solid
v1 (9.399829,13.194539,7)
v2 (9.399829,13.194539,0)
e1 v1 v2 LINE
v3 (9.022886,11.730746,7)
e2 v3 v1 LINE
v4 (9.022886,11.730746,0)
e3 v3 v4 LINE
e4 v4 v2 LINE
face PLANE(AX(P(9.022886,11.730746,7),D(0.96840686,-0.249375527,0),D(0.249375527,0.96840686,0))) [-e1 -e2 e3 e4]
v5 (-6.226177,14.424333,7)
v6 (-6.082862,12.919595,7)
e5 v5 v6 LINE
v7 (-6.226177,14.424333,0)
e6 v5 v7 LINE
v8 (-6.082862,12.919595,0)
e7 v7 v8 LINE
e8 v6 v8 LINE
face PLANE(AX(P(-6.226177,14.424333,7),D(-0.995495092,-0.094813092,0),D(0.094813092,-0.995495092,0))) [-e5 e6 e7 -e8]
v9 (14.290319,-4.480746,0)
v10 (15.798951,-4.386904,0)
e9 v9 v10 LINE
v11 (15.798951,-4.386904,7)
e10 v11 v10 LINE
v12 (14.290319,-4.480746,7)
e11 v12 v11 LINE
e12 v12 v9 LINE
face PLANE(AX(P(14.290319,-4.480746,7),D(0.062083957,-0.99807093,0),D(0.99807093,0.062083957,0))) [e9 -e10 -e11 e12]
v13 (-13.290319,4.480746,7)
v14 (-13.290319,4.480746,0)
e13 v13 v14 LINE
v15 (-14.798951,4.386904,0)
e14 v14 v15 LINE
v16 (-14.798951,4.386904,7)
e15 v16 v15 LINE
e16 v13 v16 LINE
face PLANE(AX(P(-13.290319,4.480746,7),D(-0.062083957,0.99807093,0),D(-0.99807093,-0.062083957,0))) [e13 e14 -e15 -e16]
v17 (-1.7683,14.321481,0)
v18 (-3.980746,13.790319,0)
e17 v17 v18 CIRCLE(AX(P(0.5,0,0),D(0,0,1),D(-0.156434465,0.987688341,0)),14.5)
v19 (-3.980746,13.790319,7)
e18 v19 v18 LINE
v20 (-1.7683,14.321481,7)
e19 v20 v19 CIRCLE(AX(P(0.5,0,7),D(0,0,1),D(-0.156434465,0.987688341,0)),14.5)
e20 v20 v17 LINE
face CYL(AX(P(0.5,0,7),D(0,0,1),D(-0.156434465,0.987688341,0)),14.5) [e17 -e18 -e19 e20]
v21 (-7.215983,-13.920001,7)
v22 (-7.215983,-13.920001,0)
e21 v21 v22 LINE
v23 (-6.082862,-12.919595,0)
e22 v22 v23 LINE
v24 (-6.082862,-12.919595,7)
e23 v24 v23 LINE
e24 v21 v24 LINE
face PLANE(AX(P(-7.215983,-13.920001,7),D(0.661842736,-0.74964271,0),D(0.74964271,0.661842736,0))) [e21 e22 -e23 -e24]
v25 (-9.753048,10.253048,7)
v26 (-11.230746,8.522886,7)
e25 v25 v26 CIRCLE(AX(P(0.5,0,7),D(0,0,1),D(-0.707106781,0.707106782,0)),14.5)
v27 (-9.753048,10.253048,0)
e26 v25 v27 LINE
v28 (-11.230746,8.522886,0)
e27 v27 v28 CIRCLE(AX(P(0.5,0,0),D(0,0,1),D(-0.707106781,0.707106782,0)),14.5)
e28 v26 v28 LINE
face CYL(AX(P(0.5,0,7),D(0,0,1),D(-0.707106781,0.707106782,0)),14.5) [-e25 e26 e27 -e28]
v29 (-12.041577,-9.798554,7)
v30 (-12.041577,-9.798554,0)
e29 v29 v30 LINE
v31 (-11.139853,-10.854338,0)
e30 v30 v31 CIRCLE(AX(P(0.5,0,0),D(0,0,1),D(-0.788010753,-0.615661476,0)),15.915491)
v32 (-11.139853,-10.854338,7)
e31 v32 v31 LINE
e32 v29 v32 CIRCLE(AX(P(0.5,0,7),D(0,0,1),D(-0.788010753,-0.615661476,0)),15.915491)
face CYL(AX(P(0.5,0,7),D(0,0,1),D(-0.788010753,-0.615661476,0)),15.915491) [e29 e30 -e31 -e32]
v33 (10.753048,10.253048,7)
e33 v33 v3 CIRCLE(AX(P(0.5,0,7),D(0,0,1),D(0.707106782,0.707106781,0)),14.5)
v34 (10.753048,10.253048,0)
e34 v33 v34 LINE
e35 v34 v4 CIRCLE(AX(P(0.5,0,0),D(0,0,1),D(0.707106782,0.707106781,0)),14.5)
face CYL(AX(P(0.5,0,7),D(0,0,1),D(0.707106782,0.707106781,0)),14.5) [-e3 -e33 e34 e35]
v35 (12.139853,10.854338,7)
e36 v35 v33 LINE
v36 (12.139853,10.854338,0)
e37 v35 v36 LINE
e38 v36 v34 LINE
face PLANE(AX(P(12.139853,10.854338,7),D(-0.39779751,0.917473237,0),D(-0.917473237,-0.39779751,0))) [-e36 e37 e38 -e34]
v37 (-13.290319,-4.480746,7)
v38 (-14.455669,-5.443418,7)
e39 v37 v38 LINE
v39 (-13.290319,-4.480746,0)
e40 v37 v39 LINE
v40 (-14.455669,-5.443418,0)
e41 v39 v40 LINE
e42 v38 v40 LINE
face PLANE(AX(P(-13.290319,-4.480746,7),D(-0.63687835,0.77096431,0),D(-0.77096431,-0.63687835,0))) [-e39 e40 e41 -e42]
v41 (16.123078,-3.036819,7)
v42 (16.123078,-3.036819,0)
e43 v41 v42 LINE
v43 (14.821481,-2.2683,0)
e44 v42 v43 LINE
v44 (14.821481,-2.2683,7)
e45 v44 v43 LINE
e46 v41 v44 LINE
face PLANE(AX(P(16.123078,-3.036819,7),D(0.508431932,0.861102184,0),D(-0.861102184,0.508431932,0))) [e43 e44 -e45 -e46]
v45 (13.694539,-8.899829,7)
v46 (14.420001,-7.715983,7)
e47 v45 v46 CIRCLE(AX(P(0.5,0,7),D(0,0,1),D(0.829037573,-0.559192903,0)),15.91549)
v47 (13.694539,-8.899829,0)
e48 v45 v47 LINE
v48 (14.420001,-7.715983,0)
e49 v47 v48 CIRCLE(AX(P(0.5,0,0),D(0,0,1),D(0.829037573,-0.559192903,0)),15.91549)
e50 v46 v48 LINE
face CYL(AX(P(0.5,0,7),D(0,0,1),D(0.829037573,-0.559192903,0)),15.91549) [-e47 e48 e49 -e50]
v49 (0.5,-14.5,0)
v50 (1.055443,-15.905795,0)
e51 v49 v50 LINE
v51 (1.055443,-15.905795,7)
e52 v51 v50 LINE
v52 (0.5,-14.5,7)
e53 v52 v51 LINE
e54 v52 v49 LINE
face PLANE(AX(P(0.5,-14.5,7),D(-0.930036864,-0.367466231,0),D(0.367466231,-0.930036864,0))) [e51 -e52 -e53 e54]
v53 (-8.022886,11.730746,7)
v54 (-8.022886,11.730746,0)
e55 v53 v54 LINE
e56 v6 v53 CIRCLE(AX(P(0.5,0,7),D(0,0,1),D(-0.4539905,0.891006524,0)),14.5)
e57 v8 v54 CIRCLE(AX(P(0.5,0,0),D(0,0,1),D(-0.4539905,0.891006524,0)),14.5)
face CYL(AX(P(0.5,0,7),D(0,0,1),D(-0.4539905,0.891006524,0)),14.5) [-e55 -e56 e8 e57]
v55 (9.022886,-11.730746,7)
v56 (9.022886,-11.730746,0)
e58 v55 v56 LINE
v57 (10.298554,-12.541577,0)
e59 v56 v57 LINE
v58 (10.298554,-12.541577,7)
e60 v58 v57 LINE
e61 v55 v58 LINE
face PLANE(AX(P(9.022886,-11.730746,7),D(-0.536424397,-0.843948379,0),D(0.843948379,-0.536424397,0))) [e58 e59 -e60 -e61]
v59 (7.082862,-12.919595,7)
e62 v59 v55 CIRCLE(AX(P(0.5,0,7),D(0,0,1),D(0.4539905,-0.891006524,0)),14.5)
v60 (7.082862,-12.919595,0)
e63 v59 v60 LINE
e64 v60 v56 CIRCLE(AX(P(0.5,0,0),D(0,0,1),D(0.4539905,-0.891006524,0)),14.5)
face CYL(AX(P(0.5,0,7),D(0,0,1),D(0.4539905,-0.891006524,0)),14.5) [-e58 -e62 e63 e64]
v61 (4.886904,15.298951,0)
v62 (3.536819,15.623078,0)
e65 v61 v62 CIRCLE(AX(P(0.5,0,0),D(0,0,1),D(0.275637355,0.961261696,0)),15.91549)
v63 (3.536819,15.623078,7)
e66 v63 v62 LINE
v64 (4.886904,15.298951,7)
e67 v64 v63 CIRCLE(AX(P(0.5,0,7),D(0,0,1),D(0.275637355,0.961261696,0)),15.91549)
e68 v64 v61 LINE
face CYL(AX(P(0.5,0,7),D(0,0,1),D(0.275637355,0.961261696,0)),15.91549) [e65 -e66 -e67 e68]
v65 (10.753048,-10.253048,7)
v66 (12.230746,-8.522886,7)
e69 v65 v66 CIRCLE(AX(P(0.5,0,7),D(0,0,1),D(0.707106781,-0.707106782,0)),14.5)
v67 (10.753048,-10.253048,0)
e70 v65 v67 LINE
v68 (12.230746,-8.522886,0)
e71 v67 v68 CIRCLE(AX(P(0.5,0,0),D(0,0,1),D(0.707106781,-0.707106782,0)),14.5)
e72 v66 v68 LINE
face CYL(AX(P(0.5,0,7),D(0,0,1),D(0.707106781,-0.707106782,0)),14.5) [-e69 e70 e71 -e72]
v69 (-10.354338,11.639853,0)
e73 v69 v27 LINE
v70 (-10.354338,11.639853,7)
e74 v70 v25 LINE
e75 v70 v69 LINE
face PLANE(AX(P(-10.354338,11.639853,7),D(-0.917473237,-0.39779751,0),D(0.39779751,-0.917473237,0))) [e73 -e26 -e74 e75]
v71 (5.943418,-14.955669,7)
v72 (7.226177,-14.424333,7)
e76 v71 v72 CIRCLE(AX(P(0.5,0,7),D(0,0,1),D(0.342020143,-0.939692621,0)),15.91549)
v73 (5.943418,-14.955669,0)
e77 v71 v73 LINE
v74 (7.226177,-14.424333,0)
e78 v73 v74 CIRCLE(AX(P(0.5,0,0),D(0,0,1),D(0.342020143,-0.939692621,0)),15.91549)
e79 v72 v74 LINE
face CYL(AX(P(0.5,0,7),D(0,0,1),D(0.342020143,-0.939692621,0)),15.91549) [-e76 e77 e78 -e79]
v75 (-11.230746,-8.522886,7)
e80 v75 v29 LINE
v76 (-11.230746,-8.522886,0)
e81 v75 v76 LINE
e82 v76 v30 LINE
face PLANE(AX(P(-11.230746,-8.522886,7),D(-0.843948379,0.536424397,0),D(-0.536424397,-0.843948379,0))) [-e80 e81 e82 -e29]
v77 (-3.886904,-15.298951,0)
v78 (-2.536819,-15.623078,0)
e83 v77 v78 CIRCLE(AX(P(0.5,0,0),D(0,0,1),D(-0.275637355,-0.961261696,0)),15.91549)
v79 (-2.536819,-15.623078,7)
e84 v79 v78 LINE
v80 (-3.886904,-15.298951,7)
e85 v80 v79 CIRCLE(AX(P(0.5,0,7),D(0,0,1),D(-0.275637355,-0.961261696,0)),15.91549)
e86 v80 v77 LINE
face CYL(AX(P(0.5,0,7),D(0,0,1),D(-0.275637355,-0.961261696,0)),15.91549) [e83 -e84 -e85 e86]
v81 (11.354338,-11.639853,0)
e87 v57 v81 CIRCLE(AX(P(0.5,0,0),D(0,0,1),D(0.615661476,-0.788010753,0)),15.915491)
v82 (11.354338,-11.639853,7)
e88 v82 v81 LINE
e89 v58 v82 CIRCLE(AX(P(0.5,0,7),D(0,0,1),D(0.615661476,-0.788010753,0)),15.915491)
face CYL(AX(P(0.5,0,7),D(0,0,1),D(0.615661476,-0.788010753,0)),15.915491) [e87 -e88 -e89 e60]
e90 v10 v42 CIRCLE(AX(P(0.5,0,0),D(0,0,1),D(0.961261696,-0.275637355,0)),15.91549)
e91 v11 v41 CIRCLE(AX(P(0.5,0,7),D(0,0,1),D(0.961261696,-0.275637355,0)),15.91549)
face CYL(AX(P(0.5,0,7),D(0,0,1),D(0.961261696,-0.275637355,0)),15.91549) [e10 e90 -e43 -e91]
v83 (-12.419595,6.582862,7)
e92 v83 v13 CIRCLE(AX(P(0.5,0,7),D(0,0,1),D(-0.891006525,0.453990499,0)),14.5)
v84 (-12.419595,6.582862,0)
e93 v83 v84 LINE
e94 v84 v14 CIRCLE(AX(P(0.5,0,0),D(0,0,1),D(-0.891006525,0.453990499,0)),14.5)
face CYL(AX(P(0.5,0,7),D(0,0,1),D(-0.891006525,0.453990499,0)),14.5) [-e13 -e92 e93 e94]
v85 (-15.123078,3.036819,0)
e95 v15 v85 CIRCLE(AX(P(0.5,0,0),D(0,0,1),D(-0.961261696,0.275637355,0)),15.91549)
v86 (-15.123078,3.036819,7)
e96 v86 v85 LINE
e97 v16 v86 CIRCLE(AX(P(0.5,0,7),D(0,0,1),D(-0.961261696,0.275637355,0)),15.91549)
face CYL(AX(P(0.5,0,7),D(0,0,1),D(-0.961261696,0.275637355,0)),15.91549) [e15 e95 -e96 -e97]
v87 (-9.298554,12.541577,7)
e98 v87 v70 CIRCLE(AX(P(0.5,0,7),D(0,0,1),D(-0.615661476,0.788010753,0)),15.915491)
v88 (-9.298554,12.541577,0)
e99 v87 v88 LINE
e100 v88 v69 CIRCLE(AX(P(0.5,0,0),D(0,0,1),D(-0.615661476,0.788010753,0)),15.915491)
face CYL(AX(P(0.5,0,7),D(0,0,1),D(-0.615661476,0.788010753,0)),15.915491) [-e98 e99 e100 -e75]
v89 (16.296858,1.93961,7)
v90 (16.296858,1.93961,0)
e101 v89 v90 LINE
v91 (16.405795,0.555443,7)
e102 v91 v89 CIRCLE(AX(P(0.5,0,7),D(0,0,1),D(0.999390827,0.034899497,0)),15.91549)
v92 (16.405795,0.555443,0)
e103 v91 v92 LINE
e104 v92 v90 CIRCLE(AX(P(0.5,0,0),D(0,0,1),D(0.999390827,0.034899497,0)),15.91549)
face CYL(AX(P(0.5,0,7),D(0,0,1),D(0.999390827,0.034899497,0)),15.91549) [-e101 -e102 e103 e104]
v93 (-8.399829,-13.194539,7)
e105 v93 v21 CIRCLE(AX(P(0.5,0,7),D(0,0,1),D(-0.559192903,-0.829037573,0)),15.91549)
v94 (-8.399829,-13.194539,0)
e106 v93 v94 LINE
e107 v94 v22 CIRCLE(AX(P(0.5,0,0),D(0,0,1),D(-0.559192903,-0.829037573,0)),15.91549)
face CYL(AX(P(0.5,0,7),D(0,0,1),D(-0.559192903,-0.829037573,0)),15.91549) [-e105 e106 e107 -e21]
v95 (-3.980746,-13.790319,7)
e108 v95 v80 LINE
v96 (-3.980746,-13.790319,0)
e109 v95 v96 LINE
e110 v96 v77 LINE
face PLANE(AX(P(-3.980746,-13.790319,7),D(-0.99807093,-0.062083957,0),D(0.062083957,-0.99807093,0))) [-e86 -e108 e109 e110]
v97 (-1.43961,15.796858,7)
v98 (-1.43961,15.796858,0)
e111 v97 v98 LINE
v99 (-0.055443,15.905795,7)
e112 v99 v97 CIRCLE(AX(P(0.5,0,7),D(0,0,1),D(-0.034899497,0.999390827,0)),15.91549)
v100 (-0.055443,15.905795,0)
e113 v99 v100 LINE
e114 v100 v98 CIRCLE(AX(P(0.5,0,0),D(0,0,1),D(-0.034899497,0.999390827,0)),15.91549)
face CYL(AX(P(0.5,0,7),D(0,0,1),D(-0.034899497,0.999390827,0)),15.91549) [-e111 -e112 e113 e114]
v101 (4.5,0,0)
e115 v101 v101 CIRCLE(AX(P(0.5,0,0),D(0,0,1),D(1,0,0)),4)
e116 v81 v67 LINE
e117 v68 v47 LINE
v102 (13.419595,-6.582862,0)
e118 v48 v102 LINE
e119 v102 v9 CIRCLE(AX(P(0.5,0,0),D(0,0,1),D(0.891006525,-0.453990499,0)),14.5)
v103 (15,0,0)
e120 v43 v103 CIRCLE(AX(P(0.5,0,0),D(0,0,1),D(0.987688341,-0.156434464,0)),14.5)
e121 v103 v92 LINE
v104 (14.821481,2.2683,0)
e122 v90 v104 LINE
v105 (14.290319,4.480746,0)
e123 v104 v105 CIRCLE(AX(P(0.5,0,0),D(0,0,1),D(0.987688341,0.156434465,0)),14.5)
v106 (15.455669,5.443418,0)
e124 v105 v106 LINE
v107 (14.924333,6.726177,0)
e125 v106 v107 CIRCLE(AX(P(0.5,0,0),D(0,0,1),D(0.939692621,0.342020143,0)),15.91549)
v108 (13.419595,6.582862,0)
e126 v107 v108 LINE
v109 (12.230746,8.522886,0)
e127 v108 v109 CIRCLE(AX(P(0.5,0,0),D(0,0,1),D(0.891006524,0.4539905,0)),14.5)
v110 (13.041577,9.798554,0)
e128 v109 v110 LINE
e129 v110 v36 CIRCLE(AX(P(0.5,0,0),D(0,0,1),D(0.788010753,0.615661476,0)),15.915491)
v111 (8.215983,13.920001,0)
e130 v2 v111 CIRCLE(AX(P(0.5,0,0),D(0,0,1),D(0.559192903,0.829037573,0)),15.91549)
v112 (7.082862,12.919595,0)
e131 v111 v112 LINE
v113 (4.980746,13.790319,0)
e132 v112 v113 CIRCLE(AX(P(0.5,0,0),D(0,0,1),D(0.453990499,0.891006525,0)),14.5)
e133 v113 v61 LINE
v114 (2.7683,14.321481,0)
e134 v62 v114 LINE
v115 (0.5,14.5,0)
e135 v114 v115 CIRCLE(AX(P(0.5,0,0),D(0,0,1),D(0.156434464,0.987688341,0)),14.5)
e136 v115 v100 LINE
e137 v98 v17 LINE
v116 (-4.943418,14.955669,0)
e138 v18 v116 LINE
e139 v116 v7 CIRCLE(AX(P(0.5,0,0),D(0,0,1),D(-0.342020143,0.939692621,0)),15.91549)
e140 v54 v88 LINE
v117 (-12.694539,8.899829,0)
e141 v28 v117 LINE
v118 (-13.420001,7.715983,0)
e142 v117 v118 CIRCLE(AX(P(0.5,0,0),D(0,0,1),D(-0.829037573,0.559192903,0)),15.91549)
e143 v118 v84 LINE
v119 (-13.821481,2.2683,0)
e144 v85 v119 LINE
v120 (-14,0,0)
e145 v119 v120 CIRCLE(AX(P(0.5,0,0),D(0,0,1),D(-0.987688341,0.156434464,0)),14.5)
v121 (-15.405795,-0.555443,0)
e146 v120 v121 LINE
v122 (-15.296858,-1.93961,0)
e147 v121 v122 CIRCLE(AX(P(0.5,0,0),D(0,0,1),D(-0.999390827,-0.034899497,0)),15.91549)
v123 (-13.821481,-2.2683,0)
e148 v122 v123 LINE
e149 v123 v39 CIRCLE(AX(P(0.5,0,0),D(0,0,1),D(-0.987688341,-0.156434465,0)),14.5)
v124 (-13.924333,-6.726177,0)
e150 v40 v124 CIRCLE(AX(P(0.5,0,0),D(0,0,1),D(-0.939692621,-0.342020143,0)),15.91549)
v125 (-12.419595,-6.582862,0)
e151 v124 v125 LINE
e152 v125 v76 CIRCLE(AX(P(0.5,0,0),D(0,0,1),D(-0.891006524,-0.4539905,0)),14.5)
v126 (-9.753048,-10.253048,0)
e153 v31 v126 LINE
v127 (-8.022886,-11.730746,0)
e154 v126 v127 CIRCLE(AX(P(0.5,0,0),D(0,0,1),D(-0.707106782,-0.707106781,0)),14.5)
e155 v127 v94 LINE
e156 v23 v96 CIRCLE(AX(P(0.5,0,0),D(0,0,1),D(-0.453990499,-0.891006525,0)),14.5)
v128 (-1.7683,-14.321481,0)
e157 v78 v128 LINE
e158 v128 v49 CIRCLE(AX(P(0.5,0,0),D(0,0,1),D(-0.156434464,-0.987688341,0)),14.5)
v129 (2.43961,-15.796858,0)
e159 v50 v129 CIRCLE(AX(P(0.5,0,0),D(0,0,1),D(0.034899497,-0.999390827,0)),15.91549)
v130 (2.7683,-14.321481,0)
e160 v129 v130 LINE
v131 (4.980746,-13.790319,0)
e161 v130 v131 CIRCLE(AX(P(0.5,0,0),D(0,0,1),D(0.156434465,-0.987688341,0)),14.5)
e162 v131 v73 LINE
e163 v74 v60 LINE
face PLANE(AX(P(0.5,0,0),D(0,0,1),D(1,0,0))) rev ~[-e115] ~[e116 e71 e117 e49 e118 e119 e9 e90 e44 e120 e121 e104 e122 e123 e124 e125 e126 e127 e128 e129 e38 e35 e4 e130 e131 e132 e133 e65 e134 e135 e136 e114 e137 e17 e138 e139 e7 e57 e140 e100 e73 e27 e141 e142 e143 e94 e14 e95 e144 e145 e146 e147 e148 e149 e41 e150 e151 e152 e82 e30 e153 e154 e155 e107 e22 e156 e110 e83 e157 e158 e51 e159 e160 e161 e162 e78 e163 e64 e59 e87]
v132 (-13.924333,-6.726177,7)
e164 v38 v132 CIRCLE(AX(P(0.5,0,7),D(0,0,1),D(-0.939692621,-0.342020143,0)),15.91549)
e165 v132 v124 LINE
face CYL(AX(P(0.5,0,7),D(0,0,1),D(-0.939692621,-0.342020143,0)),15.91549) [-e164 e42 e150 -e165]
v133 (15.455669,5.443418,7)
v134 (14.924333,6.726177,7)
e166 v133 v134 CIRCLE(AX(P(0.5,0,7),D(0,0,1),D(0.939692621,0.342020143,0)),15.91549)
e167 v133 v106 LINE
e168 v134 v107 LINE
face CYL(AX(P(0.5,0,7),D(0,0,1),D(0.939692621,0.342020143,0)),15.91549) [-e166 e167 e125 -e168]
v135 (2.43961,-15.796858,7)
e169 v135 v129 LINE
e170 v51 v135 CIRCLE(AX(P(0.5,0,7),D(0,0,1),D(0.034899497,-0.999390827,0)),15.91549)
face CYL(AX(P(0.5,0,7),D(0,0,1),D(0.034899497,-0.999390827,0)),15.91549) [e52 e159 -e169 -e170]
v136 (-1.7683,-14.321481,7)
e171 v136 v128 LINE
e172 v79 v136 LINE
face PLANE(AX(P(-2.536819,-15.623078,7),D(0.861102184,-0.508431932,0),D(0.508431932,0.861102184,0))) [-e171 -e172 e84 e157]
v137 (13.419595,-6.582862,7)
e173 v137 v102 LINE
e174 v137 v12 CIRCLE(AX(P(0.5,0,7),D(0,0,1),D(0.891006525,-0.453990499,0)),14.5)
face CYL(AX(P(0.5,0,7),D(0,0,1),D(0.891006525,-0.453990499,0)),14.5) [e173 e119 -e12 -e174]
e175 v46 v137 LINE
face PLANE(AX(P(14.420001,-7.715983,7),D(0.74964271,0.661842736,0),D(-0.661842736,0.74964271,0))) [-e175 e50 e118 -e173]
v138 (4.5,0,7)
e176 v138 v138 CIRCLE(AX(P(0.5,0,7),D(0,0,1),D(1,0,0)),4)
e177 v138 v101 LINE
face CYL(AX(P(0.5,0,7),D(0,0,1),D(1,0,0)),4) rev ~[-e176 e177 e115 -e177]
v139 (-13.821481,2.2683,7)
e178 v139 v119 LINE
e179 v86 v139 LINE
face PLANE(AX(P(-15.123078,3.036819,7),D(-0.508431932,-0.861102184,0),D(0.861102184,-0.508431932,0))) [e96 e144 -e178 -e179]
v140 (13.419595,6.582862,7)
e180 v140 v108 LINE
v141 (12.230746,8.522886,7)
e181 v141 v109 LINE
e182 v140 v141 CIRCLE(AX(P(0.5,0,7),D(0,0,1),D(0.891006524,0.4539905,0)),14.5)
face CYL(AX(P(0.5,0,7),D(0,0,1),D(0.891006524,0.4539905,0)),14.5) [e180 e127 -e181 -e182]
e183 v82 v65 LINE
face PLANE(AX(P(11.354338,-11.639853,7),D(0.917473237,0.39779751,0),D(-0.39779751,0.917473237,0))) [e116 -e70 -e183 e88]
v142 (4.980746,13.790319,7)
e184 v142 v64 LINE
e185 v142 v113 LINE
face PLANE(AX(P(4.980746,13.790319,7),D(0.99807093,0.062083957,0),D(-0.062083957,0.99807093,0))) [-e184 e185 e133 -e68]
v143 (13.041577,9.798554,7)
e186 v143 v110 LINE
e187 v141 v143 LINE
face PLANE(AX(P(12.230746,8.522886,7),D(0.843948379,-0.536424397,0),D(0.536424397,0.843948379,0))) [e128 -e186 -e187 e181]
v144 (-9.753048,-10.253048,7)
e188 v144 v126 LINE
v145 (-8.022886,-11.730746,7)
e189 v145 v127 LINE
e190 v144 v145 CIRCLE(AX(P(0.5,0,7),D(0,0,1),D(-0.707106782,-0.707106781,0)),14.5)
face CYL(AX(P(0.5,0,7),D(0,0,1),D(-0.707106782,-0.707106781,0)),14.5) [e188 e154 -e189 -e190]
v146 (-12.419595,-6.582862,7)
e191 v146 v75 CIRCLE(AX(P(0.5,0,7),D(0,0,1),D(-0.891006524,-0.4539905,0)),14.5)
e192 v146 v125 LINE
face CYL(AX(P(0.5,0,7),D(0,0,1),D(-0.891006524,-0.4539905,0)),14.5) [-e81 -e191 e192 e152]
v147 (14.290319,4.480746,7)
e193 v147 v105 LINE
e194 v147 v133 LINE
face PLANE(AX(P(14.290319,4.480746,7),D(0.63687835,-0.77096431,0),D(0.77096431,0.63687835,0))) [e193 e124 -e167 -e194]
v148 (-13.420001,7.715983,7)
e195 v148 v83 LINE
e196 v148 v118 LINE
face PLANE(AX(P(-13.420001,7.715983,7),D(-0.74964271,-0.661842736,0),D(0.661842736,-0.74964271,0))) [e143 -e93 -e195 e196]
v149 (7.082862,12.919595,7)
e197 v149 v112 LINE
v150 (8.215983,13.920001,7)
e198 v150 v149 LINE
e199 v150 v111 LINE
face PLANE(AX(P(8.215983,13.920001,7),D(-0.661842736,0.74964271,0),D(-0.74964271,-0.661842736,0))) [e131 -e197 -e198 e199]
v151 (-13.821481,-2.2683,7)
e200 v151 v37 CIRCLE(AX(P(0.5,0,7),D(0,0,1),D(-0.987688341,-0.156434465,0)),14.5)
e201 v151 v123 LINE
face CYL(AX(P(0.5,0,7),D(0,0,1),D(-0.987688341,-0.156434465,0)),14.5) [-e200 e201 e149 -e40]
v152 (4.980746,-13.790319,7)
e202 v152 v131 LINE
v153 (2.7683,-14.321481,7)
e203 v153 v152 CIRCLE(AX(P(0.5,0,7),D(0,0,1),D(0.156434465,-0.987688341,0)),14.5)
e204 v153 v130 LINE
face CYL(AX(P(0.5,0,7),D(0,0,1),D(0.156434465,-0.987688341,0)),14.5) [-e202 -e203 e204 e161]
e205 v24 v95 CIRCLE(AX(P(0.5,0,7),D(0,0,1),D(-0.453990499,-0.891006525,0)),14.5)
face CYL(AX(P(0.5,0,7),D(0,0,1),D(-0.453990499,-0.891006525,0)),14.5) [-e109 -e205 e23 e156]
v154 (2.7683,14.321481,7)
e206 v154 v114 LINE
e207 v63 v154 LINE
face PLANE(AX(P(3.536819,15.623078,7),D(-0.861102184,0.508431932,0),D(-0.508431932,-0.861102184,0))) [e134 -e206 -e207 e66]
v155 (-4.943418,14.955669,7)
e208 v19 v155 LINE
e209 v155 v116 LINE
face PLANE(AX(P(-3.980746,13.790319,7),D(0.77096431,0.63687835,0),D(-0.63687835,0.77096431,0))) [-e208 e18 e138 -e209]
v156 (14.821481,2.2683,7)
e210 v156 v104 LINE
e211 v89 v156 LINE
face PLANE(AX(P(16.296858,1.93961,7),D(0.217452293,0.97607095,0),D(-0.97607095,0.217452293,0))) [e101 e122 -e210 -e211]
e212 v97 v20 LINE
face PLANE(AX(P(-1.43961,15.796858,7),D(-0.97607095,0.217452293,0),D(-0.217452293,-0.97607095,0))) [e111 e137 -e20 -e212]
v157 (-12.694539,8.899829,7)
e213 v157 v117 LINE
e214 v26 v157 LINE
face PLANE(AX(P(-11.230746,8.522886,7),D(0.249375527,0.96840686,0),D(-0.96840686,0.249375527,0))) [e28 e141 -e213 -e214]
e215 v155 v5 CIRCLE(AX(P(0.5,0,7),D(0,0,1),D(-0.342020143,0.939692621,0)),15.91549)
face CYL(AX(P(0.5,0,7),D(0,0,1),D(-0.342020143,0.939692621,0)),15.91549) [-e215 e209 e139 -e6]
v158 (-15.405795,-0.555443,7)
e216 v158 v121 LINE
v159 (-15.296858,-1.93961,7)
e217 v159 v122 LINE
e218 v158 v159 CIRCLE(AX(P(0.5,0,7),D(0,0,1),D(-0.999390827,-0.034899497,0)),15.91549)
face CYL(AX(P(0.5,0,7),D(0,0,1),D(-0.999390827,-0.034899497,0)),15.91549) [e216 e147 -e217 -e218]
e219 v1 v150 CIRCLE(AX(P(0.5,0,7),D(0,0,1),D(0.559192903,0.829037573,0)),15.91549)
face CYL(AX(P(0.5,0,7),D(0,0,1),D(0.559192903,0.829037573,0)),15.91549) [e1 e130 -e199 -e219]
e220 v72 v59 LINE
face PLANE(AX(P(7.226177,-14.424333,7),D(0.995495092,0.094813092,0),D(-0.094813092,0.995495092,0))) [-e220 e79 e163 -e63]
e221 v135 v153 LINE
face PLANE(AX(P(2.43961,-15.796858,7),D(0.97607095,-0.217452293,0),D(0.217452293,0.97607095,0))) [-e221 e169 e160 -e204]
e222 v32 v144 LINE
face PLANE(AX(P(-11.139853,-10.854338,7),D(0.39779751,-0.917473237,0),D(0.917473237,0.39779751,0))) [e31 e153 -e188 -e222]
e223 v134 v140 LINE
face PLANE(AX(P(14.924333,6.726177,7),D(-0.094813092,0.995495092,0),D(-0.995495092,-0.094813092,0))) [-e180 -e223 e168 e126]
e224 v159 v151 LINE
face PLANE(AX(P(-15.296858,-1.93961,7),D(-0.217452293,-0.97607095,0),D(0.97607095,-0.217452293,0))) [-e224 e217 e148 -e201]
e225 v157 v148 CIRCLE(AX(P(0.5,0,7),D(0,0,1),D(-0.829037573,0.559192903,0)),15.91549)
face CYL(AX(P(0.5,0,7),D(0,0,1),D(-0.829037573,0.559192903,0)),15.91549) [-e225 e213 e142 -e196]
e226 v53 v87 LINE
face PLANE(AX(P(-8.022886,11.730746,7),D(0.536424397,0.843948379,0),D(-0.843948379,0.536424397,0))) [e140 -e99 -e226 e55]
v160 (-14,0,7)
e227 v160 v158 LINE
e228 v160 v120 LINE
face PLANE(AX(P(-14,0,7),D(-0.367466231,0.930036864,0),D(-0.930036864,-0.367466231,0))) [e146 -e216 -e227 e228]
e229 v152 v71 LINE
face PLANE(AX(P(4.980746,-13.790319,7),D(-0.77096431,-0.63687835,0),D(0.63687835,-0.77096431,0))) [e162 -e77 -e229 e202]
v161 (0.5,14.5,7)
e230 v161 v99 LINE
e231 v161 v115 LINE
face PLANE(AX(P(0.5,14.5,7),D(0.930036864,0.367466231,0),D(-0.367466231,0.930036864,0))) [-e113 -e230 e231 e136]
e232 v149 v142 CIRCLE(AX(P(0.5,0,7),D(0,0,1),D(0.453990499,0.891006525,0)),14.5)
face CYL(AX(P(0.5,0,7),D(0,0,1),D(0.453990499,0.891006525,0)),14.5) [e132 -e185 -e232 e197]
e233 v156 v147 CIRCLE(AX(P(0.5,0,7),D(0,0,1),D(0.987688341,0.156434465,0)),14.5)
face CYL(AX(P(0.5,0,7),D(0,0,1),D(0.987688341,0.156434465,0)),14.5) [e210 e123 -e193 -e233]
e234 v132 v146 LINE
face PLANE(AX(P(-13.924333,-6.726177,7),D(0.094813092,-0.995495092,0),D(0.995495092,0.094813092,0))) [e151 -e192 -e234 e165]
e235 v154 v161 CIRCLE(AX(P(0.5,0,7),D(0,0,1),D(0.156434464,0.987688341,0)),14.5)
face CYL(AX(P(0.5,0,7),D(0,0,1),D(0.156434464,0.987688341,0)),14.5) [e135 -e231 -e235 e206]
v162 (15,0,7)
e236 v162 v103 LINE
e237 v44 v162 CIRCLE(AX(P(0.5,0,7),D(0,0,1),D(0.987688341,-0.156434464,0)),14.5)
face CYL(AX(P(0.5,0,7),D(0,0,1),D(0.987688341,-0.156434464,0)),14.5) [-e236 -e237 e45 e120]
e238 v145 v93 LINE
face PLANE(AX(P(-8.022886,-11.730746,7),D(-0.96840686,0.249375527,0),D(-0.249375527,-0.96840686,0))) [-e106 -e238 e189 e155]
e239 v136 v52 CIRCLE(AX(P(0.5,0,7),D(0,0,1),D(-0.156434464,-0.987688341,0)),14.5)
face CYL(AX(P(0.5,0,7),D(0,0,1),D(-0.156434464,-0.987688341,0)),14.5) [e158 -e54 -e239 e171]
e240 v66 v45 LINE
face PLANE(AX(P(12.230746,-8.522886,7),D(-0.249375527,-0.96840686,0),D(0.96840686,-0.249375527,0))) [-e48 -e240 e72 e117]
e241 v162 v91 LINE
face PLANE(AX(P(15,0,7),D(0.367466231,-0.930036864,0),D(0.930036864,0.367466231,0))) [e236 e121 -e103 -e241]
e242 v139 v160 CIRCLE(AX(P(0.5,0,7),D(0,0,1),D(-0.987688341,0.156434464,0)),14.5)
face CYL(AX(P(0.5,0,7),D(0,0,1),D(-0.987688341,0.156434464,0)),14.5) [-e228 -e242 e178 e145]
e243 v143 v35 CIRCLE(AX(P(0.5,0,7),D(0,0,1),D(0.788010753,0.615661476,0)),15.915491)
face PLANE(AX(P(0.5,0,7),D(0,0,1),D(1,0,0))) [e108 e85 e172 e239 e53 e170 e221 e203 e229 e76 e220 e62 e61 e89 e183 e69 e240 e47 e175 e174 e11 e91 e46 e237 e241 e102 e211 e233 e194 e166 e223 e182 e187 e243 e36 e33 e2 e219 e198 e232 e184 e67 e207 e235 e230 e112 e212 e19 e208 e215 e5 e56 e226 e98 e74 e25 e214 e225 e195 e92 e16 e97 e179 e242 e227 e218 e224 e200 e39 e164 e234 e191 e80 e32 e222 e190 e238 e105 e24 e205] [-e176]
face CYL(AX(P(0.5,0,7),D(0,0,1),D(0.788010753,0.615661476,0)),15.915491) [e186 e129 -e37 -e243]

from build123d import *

# Parameters (mm, degrees)
SKETCH1_R           = 4
BOSS_EXTRUDE1_DEPTH = 7


with BuildPart() as part:
    # Sketch1 → Boss-Extrude1 (new body)
    with BuildSketch(Plane.XY.offset(7)):
        with BuildLine():
            Line((16.296858351, 1.939610316), (14.821480939, 2.268299743))
            ThreePointArc((14.821480939, 2.268299743), (14.599363846, 3.384957776), (14.290319486, 4.480746418))
            Line((14.290319486, 4.480746418), (15.455668509, 5.443418171))
            ThreePointArc((15.455668509, 5.443418171), (15.203995461, 6.090594341), (14.924332522, 6.726176719))
            Line((14.924332522, 6.726176719), (13.419594601, 6.582862246))
            ThreePointArc((13.419594601, 6.582862246), (12.863282383, 7.576229188), (12.230746418, 8.522886158))
            Line((12.230746418, 8.522886158), (13.041577269, 9.798554054))
            ThreePointArc((13.041577269, 9.798554054), (12.602233541, 10.336283919), (12.139852525, 10.85433808))
            Line((12.139852525, 10.85433808), (10.753048327, 10.253048327))
            ThreePointArc((10.753048327, 10.253048327), (9.916996701, 11.025886501), (9.022886158, 11.730746418))
            Line((9.022886158, 11.730746418), (9.399829063, 13.194539196))
            ThreePointArc((9.399829063, 13.194539196), (8.815820682, 13.570186009), (8.215982663, 13.920001203))
            Line((8.215982663, 13.920001203), (7.082862246, 12.919594601))
            ThreePointArc((7.082862246, 12.919594601), (6.048909769, 13.396253221), (4.980746418, 13.790319486))
            Line((4.980746418, 13.790319486), (4.88690358, 15.298950909))
            ThreePointArc((4.88690358, 15.298950909), (4.215397354, 15.475743744), (3.536818658, 15.623077622))
            Line((3.536818658, 15.623077622), (2.768299743, 14.321480939))
            ThreePointArc((2.768299743, 14.321480939), (1.637656888, 14.455301339), (0.5, 14.5))
            Line((0.5, 14.5), (-0.055442591, 15.905794714))
            ThreePointArc((-0.055442591, 15.905794714), (-0.748714953, 15.866427856), (-1.439610316, 15.796858351))
            Line((-1.439610316, 15.796858351), (-1.768299743, 14.321480939))
            ThreePointArc((-1.768299743, 14.321480939), (-2.884957776, 14.099363846), (-3.980746418, 13.790319486))
            Line((-3.980746418, 13.790319486), (-4.943418171, 14.955668509))
            ThreePointArc((-4.943418171, 14.955668509), (-5.590594341, 14.703995461), (-6.226176719, 14.424332522))
            Line((-6.226176719, 14.424332522), (-6.082862246, 12.919594601))
            ThreePointArc((-6.082862246, 12.919594601), (-7.076229188, 12.363282383), (-8.022886158, 11.730746418))
            Line((-8.022886158, 11.730746418), (-9.298554054, 12.541577269))
            ThreePointArc((-9.298554054, 12.541577269), (-9.836283919, 12.102233541), (-10.35433808, 11.639852525))
            Line((-10.35433808, 11.639852525), (-9.753048327, 10.253048327))
            ThreePointArc((-9.753048327, 10.253048327), (-10.525886501, 9.416996701), (-11.230746418, 8.522886158))
            Line((-11.230746418, 8.522886158), (-12.694539196, 8.899829063))
            ThreePointArc((-12.694539196, 8.899829063), (-13.070186009, 8.315820682), (-13.420001203, 7.715982663))
            Line((-13.420001203, 7.715982663), (-12.419594601, 6.582862246))
            ThreePointArc((-12.419594601, 6.582862246), (-12.896253221, 5.548909769), (-13.290319486, 4.480746418))
            Line((-13.290319486, 4.480746418), (-14.798950909, 4.38690358))
            ThreePointArc((-14.798950909, 4.38690358), (-14.975743744, 3.715397354), (-15.123077622, 3.036818658))
            Line((-15.123077622, 3.036818658), (-13.821480939, 2.268299743))
            ThreePointArc((-13.821480939, 2.268299743), (-13.955301339, 1.137656888), (-14, 0))
            Line((-14, 0), (-15.405794714, -0.555442591))
            ThreePointArc((-15.405794714, -0.555442591), (-15.366427856, -1.248714953), (-15.296858351, -1.939610316))
            Line((-15.296858351, -1.939610316), (-13.821480939, -2.268299743))
            ThreePointArc((-13.821480939, -2.268299743), (-13.599363846, -3.384957776), (-13.290319486, -4.480746418))
            Line((-13.290319486, -4.480746418), (-14.455668509, -5.443418171))
            ThreePointArc((-14.455668509, -5.443418171), (-14.203995461, -6.090594341), (-13.924332522, -6.726176719))
            Line((-13.924332522, -6.726176719), (-12.419594601, -6.582862246))
            ThreePointArc((-12.419594601, -6.582862246), (-11.863282383, -7.576229188), (-11.230746418, -8.522886158))
            Line((-11.230746418, -8.522886158), (-12.041577269, -9.798554054))
            ThreePointArc((-12.041577269, -9.798554054), (-11.602233541, -10.336283919), (-11.139852525, -10.85433808))
            Line((-11.139852525, -10.85433808), (-9.753048327, -10.253048327))
            ThreePointArc((-9.753048327, -10.253048327), (-8.916996701, -11.025886501), (-8.022886158, -11.730746418))
            Line((-8.022886158, -11.730746418), (-8.399829063, -13.194539196))
            ThreePointArc((-8.399829063, -13.194539196), (-7.815820682, -13.570186009), (-7.215982663, -13.920001203))
            Line((-7.215982663, -13.920001203), (-6.082862246, -12.919594601))
            ThreePointArc((-6.082862246, -12.919594601), (-5.048909769, -13.396253221), (-3.980746418, -13.790319486))
            Line((-3.980746418, -13.790319486), (-3.88690358, -15.298950909))
            ThreePointArc((-3.88690358, -15.298950909), (-3.215397354, -15.475743744), (-2.536818658, -15.623077622))
            Line((-2.536818658, -15.623077622), (-1.768299743, -14.321480939))
            ThreePointArc((-1.768299743, -14.321480939), (-0.637656888, -14.455301339), (0.5, -14.5))
            Line((0.5, -14.5), (1.055442591, -15.905794714))
            ThreePointArc((1.055442591, -15.905794714), (1.748714953, -15.866427856), (2.439610316, -15.796858351))
            Line((2.439610316, -15.796858351), (2.768299743, -14.321480939))
            ThreePointArc((2.768299743, -14.321480939), (3.884957776, -14.099363846), (4.980746418, -13.790319486))
            Line((4.980746418, -13.790319486), (5.943418171, -14.955668509))
            ThreePointArc((5.943418171, -14.955668509), (6.590594341, -14.703995461), (7.226176719, -14.424332522))
            Line((7.226176719, -14.424332522), (7.082862246, -12.919594601))
            ThreePointArc((7.082862246, -12.919594601), (8.076229188, -12.363282383), (9.022886158, -11.730746418))
            Line((9.022886158, -11.730746418), (10.298554054, -12.541577269))
            ThreePointArc((10.298554054, -12.541577269), (10.836283919, -12.102233541), (11.35433808, -11.639852525))
            Line((11.35433808, -11.639852525), (10.753048327, -10.253048327))
            ThreePointArc((10.753048327, -10.253048327), (11.525886501, -9.416996701), (12.230746418, -8.522886158))
            Line((12.230746418, -8.522886158), (13.694539196, -8.899829063))
            ThreePointArc((13.694539196, -8.899829063), (14.070186009, -8.315820682), (14.420001203, -7.715982663))
            Line((14.420001203, -7.715982663), (13.419594601, -6.582862246))
            ThreePointArc((13.419594601, -6.582862246), (13.896253221, -5.548909769), (14.290319486, -4.480746418))
            Line((14.290319486, -4.480746418), (15.798950909, -4.38690358))
            ThreePointArc((15.798950909, -4.38690358), (15.975743744, -3.715397354), (16.123077622, -3.036818658))
            Line((16.123077622, -3.036818658), (14.821480939, -2.268299743))
            ThreePointArc((14.821480939, -2.268299743), (14.955301339, -1.137656888), (15, 0))
            Line((15, 0), (16.405794714, 0.555442591))
            ThreePointArc((16.405794714, 0.555442591), (16.366427856, 1.248714953), (16.296858351, 1.939610316))
        make_face()
        with Locations((0.5, 0)):
            Circle(SKETCH1_R, mode=Mode.SUBTRACT)
    extrude(amount=-BOSS_EXTRUDE1_DEPTH)


solid = part.part
